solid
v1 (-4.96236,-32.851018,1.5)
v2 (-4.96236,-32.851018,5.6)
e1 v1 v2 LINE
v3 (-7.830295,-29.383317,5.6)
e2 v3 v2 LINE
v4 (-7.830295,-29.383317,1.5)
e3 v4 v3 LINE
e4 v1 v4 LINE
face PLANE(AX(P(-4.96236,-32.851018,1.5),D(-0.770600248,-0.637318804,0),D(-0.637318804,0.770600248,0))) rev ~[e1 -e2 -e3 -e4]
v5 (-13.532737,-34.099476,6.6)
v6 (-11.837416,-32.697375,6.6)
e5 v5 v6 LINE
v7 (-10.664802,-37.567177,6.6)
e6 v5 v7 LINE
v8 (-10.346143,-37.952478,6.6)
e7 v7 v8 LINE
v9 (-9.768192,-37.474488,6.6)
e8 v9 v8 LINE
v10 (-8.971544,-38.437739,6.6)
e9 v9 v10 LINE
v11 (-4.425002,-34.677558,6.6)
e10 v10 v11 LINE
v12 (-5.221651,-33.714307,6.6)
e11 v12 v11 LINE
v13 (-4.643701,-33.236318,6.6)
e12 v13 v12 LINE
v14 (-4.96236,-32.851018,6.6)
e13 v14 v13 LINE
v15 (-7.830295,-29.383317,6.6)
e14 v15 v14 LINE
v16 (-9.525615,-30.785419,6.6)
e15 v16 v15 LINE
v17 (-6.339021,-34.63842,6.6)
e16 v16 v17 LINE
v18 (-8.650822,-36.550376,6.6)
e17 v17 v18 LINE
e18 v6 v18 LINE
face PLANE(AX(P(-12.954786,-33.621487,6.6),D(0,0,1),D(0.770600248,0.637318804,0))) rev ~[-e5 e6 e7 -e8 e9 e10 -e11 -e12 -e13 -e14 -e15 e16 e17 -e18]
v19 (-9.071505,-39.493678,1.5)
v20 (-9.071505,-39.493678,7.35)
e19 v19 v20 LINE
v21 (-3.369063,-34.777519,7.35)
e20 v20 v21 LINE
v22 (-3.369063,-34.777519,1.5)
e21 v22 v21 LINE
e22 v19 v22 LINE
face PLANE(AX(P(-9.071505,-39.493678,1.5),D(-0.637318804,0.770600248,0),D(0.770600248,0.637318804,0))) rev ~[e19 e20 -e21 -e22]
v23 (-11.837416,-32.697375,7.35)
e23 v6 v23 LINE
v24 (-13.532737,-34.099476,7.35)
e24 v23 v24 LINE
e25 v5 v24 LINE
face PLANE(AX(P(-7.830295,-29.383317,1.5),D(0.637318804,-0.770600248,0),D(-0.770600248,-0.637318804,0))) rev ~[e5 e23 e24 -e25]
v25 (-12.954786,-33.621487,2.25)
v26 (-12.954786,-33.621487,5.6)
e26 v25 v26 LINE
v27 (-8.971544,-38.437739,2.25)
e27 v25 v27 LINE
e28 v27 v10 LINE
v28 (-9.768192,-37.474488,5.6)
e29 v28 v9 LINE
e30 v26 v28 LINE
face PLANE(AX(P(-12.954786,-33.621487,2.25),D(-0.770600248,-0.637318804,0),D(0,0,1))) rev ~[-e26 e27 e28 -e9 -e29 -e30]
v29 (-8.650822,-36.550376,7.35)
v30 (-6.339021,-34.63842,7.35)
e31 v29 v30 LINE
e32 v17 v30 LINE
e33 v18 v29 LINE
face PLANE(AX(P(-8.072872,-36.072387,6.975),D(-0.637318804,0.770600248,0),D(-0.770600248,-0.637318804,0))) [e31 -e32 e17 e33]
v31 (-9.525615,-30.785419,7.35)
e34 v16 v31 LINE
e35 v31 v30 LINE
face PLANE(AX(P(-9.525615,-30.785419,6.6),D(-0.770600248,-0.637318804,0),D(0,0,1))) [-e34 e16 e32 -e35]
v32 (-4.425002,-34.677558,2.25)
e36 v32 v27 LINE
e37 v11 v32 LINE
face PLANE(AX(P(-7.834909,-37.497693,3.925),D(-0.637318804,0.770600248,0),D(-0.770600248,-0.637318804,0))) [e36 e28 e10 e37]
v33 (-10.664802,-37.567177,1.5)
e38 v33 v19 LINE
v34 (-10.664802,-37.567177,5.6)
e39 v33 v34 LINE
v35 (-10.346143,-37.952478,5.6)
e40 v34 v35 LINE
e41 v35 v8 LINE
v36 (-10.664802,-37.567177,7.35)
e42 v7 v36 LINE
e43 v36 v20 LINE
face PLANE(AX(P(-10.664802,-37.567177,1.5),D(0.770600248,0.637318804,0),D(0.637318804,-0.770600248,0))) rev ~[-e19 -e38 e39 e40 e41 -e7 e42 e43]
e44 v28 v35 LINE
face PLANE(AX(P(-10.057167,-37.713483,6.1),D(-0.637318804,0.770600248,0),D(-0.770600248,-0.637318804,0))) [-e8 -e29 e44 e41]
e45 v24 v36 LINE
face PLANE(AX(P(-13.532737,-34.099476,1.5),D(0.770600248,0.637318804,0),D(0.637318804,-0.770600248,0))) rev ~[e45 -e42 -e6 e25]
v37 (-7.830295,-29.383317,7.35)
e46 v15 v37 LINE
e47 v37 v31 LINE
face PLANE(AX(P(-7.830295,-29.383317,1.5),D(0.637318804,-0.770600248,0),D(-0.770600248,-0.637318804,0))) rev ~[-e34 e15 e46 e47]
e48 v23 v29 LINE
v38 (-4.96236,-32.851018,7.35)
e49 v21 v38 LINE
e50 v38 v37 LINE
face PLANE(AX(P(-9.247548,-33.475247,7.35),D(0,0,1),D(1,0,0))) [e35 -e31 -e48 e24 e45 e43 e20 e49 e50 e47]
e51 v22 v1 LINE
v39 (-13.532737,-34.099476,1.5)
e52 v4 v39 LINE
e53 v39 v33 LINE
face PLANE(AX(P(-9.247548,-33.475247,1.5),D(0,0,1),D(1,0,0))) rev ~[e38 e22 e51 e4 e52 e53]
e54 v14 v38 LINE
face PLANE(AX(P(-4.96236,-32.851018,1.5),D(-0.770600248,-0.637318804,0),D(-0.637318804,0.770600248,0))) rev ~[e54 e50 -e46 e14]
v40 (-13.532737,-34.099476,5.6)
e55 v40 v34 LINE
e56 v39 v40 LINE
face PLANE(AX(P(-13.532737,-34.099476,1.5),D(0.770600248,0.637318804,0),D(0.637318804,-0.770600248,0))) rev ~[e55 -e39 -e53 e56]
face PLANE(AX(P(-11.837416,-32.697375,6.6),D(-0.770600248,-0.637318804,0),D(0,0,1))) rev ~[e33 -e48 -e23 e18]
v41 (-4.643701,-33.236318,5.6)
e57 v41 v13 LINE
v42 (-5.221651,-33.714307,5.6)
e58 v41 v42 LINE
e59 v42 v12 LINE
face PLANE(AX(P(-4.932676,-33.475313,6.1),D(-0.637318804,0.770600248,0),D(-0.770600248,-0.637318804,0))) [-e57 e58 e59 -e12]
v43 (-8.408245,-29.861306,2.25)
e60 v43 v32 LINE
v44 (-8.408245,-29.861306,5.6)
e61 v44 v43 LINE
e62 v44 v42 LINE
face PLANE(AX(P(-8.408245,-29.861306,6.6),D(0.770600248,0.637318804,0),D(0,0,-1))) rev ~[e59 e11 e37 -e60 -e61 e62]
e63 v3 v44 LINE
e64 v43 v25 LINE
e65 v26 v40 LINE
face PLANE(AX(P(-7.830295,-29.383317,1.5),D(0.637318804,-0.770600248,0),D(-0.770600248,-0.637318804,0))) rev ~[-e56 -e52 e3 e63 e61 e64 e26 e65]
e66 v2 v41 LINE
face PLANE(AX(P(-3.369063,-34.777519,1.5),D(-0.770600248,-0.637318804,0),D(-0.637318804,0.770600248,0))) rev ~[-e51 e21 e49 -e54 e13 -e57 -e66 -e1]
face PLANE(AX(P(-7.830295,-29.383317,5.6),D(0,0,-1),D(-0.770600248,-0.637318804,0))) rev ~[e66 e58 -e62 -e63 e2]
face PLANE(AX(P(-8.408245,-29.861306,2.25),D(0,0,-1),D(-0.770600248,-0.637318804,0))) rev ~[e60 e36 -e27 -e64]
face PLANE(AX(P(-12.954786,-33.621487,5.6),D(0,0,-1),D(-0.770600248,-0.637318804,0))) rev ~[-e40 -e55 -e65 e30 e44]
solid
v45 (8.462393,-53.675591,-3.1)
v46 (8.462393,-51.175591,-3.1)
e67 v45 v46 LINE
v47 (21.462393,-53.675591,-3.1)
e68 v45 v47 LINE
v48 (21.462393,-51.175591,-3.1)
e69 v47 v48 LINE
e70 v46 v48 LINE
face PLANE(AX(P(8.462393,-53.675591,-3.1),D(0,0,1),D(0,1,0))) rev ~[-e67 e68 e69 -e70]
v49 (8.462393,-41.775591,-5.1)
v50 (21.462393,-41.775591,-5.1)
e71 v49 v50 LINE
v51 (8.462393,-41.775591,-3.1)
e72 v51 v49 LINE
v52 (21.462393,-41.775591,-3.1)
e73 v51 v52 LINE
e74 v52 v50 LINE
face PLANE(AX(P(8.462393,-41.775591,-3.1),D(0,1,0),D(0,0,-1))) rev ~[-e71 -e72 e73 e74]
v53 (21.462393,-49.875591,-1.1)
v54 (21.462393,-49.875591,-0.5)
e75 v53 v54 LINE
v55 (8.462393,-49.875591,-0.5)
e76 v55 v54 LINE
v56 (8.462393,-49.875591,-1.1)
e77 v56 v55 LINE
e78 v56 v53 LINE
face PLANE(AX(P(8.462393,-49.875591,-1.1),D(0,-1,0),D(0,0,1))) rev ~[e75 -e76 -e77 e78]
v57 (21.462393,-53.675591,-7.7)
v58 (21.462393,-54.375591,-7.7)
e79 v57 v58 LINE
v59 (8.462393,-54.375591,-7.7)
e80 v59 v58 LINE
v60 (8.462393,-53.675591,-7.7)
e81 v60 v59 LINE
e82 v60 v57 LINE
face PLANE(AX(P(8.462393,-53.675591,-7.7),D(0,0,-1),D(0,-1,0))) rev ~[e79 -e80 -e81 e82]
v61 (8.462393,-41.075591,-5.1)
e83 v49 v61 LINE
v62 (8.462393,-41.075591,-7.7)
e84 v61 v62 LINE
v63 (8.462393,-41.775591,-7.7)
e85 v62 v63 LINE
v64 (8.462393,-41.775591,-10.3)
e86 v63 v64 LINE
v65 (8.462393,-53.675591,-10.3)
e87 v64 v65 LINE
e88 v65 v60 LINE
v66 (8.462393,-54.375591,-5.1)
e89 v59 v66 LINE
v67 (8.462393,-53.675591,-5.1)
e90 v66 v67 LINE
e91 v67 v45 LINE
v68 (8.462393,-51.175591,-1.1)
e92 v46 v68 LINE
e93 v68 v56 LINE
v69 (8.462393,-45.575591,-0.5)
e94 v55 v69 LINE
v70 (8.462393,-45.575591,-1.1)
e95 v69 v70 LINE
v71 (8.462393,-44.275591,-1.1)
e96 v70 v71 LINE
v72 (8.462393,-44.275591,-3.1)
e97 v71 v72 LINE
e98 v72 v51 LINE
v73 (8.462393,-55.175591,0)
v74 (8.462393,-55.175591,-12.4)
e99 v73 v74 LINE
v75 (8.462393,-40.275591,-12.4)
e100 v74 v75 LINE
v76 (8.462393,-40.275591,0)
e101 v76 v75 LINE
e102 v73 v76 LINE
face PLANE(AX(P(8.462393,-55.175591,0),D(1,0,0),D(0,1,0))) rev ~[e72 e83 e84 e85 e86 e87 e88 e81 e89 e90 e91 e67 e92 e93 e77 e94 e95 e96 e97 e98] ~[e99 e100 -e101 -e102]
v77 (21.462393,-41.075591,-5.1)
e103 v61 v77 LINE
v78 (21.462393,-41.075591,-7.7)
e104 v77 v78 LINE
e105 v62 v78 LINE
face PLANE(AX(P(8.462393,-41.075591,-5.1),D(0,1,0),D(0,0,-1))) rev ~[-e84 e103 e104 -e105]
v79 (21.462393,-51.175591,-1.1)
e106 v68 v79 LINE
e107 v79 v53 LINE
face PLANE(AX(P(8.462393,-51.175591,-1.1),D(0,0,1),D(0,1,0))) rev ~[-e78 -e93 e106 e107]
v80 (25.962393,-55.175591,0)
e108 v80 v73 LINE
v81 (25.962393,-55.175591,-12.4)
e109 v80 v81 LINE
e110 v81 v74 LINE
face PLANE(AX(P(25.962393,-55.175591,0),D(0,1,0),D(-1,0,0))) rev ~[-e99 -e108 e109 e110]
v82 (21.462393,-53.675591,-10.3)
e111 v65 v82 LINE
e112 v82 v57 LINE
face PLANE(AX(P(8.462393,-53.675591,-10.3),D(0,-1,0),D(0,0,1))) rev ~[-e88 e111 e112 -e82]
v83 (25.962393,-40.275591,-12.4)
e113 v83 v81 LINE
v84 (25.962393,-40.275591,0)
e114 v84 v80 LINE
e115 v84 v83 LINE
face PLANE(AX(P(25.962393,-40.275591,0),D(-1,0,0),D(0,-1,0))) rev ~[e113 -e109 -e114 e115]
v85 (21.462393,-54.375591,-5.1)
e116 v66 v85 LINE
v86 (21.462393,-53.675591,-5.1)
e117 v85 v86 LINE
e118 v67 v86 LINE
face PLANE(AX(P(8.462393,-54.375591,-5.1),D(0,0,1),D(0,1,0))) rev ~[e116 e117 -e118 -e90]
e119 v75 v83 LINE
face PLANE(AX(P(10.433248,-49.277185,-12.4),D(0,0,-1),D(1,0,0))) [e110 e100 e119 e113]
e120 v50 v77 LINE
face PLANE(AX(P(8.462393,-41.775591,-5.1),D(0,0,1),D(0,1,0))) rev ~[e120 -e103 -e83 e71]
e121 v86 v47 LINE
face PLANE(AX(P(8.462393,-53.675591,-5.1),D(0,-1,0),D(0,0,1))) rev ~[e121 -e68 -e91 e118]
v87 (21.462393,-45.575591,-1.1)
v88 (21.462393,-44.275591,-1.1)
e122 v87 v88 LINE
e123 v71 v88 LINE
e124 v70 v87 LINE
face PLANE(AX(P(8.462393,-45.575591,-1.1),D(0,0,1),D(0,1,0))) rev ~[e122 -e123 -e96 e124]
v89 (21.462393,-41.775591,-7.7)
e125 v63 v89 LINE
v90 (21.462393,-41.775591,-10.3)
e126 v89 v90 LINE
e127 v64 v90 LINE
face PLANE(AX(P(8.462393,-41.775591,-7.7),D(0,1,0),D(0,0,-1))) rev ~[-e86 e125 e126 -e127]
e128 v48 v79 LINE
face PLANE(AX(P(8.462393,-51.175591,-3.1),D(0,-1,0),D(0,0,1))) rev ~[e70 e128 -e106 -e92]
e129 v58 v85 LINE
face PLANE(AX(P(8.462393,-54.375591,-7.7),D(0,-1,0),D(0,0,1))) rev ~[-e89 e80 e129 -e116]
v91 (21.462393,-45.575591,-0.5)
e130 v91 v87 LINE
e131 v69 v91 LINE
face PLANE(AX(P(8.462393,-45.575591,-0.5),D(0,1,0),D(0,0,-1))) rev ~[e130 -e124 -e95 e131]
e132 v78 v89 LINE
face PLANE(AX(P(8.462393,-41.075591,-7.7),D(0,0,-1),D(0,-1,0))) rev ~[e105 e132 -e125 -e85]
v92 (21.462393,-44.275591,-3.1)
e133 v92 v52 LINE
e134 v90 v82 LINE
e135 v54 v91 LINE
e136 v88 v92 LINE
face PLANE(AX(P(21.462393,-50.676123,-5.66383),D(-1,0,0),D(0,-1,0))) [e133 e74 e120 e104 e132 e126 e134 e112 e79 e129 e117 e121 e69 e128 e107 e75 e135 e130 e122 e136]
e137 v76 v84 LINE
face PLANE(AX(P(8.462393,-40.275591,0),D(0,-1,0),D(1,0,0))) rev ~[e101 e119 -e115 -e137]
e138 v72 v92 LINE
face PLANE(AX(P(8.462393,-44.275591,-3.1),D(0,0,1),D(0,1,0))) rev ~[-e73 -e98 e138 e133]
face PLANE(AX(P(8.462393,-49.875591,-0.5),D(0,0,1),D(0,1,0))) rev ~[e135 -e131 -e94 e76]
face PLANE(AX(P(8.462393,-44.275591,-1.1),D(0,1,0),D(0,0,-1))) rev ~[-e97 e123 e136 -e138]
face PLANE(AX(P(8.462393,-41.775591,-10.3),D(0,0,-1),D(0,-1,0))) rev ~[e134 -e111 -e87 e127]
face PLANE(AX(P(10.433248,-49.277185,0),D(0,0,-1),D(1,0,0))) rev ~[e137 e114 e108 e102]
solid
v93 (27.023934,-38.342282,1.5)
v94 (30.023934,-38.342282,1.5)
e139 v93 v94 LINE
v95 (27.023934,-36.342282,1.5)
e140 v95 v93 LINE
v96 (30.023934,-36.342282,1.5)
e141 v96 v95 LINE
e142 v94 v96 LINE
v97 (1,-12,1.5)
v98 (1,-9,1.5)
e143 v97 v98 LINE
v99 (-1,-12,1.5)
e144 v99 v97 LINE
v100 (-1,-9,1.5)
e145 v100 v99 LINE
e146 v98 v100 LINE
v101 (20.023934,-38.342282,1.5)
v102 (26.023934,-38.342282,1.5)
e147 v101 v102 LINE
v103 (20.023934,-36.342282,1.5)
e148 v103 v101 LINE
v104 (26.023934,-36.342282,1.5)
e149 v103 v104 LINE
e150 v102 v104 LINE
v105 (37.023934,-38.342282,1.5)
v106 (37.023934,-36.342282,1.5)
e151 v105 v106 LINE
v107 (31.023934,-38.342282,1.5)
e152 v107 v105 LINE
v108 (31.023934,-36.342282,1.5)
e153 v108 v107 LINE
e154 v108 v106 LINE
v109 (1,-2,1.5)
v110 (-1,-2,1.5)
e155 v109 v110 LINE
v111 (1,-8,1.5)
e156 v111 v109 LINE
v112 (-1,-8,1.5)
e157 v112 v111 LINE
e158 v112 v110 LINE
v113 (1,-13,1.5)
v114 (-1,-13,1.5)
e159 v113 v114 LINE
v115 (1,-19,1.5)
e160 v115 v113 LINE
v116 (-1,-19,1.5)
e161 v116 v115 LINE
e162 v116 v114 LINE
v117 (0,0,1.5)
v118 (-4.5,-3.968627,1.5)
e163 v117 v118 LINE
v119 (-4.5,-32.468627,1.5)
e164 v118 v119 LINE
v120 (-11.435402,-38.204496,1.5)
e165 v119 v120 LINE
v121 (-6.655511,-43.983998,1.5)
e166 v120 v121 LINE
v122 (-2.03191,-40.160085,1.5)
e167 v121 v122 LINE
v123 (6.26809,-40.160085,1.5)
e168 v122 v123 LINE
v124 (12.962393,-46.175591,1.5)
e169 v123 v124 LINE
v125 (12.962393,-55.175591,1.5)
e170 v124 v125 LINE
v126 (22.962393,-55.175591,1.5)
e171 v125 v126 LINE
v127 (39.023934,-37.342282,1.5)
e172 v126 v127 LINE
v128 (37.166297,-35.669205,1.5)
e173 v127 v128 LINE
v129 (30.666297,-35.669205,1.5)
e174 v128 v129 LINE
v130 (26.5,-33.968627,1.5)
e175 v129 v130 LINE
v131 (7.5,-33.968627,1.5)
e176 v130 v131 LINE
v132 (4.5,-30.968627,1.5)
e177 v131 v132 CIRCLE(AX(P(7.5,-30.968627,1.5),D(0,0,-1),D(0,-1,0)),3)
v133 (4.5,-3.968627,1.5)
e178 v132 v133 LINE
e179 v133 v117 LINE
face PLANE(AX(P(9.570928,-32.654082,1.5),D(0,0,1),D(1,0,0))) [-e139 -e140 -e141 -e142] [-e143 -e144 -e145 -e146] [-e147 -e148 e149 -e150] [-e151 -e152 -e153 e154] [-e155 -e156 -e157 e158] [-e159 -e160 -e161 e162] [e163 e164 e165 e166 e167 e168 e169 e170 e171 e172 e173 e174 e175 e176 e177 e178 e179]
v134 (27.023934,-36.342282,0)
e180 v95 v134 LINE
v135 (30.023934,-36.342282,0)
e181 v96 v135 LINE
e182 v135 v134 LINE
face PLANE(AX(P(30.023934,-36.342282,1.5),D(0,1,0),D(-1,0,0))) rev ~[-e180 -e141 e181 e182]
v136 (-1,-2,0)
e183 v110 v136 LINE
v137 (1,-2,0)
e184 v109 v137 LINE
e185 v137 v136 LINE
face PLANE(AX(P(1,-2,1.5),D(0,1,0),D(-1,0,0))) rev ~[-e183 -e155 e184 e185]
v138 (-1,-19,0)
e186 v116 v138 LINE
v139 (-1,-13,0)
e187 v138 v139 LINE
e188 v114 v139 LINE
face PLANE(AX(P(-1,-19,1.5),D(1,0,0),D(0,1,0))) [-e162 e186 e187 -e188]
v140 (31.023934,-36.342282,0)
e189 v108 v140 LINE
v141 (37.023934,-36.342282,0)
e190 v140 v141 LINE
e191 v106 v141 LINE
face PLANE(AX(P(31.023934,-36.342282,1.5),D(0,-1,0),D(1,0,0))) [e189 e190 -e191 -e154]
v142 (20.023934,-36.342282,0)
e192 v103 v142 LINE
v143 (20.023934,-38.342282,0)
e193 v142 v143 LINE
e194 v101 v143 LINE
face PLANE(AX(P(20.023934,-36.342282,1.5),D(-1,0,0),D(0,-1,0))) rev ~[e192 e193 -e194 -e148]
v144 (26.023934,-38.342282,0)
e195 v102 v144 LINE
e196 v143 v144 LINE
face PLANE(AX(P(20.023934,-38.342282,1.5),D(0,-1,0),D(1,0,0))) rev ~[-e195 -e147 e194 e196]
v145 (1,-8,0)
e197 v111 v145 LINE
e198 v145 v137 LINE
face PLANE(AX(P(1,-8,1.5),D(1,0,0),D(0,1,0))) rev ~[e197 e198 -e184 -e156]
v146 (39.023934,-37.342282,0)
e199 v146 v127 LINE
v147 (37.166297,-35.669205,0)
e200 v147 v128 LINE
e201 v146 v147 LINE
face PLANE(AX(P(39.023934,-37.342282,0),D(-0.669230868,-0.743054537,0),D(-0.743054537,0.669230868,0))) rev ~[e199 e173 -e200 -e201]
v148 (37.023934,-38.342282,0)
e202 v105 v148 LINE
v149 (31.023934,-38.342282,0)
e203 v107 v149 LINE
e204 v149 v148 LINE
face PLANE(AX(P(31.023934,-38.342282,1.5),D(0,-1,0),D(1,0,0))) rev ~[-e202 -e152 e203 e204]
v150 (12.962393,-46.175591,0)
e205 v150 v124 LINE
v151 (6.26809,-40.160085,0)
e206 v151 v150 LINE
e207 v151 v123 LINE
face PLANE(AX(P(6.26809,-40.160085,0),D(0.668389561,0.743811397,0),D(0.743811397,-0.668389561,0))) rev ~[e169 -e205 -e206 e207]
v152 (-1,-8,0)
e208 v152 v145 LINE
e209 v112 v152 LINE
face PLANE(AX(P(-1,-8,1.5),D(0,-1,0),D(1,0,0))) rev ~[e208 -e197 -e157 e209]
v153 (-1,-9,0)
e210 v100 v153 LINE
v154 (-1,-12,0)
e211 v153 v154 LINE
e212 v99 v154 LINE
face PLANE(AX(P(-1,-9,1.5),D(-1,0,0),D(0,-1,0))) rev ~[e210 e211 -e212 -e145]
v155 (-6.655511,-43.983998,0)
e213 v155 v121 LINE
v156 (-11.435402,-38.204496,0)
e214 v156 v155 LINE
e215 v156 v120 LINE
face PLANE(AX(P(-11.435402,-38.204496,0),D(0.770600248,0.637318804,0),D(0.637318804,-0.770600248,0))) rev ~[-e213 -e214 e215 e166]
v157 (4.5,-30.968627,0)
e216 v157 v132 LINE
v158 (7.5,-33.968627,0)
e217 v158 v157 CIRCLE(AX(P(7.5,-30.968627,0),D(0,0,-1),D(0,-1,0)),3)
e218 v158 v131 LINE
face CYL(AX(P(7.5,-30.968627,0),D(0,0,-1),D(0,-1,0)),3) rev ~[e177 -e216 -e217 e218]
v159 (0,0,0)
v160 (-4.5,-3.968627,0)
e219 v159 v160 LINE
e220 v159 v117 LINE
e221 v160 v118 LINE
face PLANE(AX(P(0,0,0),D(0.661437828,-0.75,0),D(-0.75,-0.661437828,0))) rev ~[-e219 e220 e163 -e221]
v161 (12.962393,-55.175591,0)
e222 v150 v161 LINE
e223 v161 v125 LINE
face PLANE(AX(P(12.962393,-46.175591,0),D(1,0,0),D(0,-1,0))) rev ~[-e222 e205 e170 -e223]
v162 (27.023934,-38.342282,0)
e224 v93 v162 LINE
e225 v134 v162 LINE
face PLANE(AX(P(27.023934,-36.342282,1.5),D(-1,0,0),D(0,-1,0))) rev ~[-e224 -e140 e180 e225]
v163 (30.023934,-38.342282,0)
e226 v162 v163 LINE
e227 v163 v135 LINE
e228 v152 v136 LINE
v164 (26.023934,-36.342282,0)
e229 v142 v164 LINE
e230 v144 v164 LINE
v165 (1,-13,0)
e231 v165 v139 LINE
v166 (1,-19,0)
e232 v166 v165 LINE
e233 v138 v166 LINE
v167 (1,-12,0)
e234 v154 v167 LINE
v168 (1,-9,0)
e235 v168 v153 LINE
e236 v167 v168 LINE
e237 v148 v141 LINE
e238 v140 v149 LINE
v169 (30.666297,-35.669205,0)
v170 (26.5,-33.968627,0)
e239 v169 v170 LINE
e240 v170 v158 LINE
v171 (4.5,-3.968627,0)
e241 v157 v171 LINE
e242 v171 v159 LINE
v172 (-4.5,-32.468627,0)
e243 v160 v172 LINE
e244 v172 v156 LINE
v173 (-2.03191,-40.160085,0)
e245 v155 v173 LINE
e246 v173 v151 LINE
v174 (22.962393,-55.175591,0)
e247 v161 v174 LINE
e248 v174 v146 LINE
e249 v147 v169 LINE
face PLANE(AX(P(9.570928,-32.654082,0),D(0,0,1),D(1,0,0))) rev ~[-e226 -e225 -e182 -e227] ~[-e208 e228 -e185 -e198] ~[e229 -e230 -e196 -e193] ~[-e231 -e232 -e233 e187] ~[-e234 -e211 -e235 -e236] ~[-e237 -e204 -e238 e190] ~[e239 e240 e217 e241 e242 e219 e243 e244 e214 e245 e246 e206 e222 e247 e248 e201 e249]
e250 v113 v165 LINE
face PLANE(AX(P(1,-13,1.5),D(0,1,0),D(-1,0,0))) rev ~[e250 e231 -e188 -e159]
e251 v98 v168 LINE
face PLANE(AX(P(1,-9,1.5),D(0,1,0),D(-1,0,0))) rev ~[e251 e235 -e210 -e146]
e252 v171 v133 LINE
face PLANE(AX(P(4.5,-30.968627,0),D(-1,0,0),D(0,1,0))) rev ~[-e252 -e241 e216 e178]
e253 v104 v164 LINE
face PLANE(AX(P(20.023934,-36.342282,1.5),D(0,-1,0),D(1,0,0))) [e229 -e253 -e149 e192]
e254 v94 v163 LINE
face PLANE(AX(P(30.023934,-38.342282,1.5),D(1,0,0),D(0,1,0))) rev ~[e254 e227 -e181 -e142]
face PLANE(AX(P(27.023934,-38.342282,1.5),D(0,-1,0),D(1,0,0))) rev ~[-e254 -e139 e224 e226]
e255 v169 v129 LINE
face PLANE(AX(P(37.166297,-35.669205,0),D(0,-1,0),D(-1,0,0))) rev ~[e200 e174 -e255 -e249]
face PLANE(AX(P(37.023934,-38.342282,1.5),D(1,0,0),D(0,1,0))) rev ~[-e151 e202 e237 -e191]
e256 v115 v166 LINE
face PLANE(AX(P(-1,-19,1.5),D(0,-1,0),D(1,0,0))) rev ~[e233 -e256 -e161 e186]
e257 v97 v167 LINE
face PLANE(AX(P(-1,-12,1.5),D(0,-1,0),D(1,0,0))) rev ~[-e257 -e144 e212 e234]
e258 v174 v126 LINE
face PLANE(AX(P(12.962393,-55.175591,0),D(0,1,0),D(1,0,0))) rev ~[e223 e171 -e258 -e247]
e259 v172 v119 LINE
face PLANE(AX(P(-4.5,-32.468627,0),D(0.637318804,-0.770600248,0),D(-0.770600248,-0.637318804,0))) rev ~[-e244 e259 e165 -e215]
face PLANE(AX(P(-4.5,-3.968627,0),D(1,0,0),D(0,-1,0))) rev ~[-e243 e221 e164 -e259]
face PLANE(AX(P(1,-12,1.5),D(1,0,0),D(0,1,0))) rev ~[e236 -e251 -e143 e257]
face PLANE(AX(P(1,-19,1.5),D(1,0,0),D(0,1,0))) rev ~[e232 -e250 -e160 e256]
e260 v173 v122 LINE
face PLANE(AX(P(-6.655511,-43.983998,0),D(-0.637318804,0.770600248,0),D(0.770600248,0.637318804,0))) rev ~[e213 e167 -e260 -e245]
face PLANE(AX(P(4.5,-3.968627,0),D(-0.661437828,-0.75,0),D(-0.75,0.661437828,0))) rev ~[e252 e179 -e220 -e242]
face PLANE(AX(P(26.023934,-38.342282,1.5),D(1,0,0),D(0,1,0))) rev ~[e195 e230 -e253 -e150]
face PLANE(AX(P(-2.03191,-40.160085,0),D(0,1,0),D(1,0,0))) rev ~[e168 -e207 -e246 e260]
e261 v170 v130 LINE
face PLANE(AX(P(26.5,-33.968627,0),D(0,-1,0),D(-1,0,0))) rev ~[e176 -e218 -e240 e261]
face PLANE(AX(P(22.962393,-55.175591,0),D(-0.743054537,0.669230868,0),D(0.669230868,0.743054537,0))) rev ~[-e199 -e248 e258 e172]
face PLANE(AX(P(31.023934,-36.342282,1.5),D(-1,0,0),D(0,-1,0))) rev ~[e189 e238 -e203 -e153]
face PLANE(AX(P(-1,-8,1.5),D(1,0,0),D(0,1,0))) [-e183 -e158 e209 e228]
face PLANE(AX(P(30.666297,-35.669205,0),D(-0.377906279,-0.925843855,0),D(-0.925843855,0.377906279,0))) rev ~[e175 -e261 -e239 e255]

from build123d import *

# Parameters (mm, degrees)
F1_DEPTH  = 1.5
F2_W      = 1
F2_H      = 6
F2_W_2    = 6
F2_H_2    = 1
F3_DEPTH  = 1.501
F5_DEPTH  = 5.85
F6_W      = 2.95
F6_H      = 3.35
F7_DEPTH  = 6.25
F6_W_2    = 0.75
F6_H_2    = 1
F6_W_3    = 1.5
F6_H_3    = 0.75
F8_DEPTH  = 5
F10_DEPTH = 12.4
F12_DEPTH = 13


with BuildPart() as f1:
    # F0 (on Top) → F1 (new body)
    with BuildSketch(Plane.XY):
        with BuildLine():
            Line((4.5, -3.9686269666), (-4.5, -3.9686269666))
            Line((-4.5, -3.9686269666), (-4.5, -32.4686269666))
            Line((-4.5, -32.4686269666), (-11.4354022297, -38.2044962043))
            Line((-11.4354022297, -38.2044962043), (-6.6555111982, -43.9839980624))
            Line((-6.6555111982, -43.9839980624), (-2.0319097118, -40.1600852372))
            Line((-2.0319097118, -40.1600852372), (6.2680902882, -40.1600852372))
            Line((6.2680902882, -40.1600852372), (12.9623928621, -46.1755912882))
            Line((12.9623928621, -46.1755912882), (12.9623928621, -55.1755912882))
            Line((12.9623928621, -55.1755912882), (22.9623928621, -55.1755912882))
            Line((22.9623928621, -55.1755912882), (39.0239336918, -37.3422823923))
            Line((39.0239336918, -37.3422823923), (37.1662973484, -35.6692052225))
            Line((37.1662973484, -35.6692052225), (30.6662973484, -35.6692052225))
            Line((30.6662973484, -35.6692052225), (26.5, -33.9686269666))
            Line((26.5, -33.9686269666), (7.5, -33.9686269666))
            ThreePointArc((7.5, -33.9686269666), (5.3786796564, -33.0899473102), (4.5, -30.9686269666))
            Line((4.5, -30.9686269666), (4.5, -3.9686269666))
        make_face()
        Polygon((4.5, -3.9686269666), (0, 0), (-4.5, -3.9686269666), align=None)
    extrude(amount=F1_DEPTH)

    # F2 (on face) → F3 (cut, through all)
    with BuildSketch(Plane.XY.offset(1.5)):
        with Locations((-0.5, -5)):
            Rectangle(F2_W, F2_H)
        with Locations((0.5, -5)):
            Rectangle(F2_W, F2_H)
        Polygon((0, -12), (0, -10.5), (-1, -9), (-1, -12), align=None)
        Polygon((1, -9), (0, -9), (0, -10.5), (1, -12), align=None)
        with Locations((-0.5, -16)):
            Rectangle(F2_W, F2_H)
        with Locations((0.5, -16)):
            Rectangle(F2_W, F2_H)
        with Locations((23.0239336918, -36.8422823923)):
            Rectangle(F2_W_2, F2_H_2)
        with Locations((23.0239336918, -37.8422823923)):
            Rectangle(F2_W_2, F2_H_2)
        Polygon((30.0239336918, -38.3422823923), (28.5239336918, -37.3422823923), (27.0239336918, -37.3422823923), (27.0239336918, -38.3422823923), align=None)
        with Locations((34.0239336918, -36.8422823923)):
            Rectangle(F2_W_2, F2_H_2)
        with Locations((34.0239336918, -37.8422823923)):
            Rectangle(F2_W_2, F2_H_2)
        Polygon((0, -10.5), (0, -9), (-1, -9), align=None)
        Polygon((1, -12), (0, -10.5), (0, -12), align=None)
        Polygon((27.0239336918, -37.3422823923), (28.5239336918, -37.3422823923), (27.0239336918, -36.3422823923), align=None)
        Polygon((28.5239336918, -37.3422823923), (30.0239336918, -37.3422823923), (30.0239336918, -36.3422823923), (27.0239336918, -36.3422823923), align=None)
        Polygon((30.0239336918, -38.3422823923), (30.0239336918, -37.3422823923), (28.5239336918, -37.3422823923), align=None)
    extrude(amount=-F3_DEPTH, mode=Mode.SUBTRACT)


with BuildPart() as f5:
    # F4 (on face) → F5 (new body)
    with BuildSketch(Plane.XY.offset(1.5)):
        Polygon((-7.8302947675, -29.3833171343), (-13.5327366008, -34.0994762853), (-10.6648019819, -37.5671774001), (-4.9623601486, -32.8510182491), align=None)
        Polygon((-4.9623601486, -32.8510182491), (-10.6648019819, -37.5671774001), (-9.0715049715, -39.4936780195), (-3.3690631382, -34.7775188685), align=None)
    extrude(amount=F5_DEPTH)

    # F6 (on face) → F7 (cut)
    with BuildSketch(Plane(origin=(11.2502047801, -13.6029417831, 0), x_dir=(-0.7706002477, -0.6373188042, 0), z_dir=(-0.6373188042, 0.7706002477, 0))):
        with Locations((29.935567627, 3.925)):
            Rectangle(F6_W, F6_H)
        Polygon((28.460567627, 5.6), (31.410567627, 5.6), (31.410567627, 6.6), (29.960567627, 6.6), (28.460567627, 6.6), align=None)
        with Locations((26.985567627, 3.925)):
            Rectangle(F6_W, F6_H)
        Polygon((25.510567627, 5.6), (28.460567627, 5.6), (28.460567627, 6.6), (26.960567627, 6.6), (25.510567627, 6.6), align=None)
    extrude(amount=-F7_DEPTH, mode=Mode.SUBTRACT)

    # F6 (on face) → F8 (cut)
    with BuildSketch(Plane(origin=(11.2502047801, -13.6029417831, 0), x_dir=(-0.7706002477, -0.6373188042, 0), z_dir=(-0.6373188042, 0.7706002477, 0))):
        with Locations((31.785567627, 6.1)):
            Rectangle(F6_W_2, F6_H_2)
        with Locations((29.210567627, 6.975)):
            Rectangle(F6_W_3, F6_H_3)
        with Locations((27.710567627, 6.975)):
            Rectangle(F6_W_3, F6_H_3)
        with Locations((25.135567627, 6.1)):
            Rectangle(F6_W_2, F6_H_2)
    extrude(amount=-F8_DEPTH, mode=Mode.SUBTRACT)


with BuildPart() as f10:
    # F9 (on face) → F10 (new body)
    with BuildSketch(Plane(origin=(0, 0, 0), x_dir=(1, 0, 0), z_dir=(0, 0, -1))):
        Polygon((12.9623928621, 46.1755912882), (12.9623928621, 55.1755912882), (8.4623928621, 55.1755912882), (8.4623928621, 42.1318874176), align=None)
        Polygon((25.9623928621, 51.8446576465), (22.9623928621, 55.1755912882), (12.9623928621, 55.1755912882), (12.9623928621, 46.1755912882), (8.4623928621, 42.1318874176), (8.4623928621, 40.2755912882), (25.9623928621, 40.2755912882), align=None)
        Polygon((25.9623928621, 51.8446576465), (25.9623928621, 55.1755912882), (22.9623928621, 55.1755912882), align=None)
    extrude(amount=F10_DEPTH)

    # F11 (on face) → F12 (cut)
    with BuildSketch(Plane(origin=(8.4623928621, 0, 0), x_dir=(0, -1, 0), z_dir=(-1, 0, 0))):
        Polygon((47.7255912882, -0.5), (47.7255912882, -10.3), (53.6755912882, -10.3), (53.6755912882, -7.7), (54.3755912882, -7.7), (54.3755912882, -5.1), (53.6755912882, -5.1), (53.6755912882, -3.1), (51.1755912882, -3.1), (51.1755912882, -1.1), (49.8755912882, -1.1), (49.8755912882, -0.5), align=None)
        Polygon((41.7755912882, -10.3), (47.7255912882, -10.3), (47.7255912882, -0.5), (45.5755912882, -0.5), (45.5755912882, -1.1), (44.2755912882, -1.1), (44.2755912882, -3.1), (41.7755912882, -3.1), (41.7755912882, -5.1), (41.0755912882, -5.1), (41.0755912882, -7.7), (41.7755912882, -7.7), align=None)
    extrude(amount=-F12_DEPTH, mode=Mode.SUBTRACT)


solid = Compound([f1.part, f5.part, f10.part])
